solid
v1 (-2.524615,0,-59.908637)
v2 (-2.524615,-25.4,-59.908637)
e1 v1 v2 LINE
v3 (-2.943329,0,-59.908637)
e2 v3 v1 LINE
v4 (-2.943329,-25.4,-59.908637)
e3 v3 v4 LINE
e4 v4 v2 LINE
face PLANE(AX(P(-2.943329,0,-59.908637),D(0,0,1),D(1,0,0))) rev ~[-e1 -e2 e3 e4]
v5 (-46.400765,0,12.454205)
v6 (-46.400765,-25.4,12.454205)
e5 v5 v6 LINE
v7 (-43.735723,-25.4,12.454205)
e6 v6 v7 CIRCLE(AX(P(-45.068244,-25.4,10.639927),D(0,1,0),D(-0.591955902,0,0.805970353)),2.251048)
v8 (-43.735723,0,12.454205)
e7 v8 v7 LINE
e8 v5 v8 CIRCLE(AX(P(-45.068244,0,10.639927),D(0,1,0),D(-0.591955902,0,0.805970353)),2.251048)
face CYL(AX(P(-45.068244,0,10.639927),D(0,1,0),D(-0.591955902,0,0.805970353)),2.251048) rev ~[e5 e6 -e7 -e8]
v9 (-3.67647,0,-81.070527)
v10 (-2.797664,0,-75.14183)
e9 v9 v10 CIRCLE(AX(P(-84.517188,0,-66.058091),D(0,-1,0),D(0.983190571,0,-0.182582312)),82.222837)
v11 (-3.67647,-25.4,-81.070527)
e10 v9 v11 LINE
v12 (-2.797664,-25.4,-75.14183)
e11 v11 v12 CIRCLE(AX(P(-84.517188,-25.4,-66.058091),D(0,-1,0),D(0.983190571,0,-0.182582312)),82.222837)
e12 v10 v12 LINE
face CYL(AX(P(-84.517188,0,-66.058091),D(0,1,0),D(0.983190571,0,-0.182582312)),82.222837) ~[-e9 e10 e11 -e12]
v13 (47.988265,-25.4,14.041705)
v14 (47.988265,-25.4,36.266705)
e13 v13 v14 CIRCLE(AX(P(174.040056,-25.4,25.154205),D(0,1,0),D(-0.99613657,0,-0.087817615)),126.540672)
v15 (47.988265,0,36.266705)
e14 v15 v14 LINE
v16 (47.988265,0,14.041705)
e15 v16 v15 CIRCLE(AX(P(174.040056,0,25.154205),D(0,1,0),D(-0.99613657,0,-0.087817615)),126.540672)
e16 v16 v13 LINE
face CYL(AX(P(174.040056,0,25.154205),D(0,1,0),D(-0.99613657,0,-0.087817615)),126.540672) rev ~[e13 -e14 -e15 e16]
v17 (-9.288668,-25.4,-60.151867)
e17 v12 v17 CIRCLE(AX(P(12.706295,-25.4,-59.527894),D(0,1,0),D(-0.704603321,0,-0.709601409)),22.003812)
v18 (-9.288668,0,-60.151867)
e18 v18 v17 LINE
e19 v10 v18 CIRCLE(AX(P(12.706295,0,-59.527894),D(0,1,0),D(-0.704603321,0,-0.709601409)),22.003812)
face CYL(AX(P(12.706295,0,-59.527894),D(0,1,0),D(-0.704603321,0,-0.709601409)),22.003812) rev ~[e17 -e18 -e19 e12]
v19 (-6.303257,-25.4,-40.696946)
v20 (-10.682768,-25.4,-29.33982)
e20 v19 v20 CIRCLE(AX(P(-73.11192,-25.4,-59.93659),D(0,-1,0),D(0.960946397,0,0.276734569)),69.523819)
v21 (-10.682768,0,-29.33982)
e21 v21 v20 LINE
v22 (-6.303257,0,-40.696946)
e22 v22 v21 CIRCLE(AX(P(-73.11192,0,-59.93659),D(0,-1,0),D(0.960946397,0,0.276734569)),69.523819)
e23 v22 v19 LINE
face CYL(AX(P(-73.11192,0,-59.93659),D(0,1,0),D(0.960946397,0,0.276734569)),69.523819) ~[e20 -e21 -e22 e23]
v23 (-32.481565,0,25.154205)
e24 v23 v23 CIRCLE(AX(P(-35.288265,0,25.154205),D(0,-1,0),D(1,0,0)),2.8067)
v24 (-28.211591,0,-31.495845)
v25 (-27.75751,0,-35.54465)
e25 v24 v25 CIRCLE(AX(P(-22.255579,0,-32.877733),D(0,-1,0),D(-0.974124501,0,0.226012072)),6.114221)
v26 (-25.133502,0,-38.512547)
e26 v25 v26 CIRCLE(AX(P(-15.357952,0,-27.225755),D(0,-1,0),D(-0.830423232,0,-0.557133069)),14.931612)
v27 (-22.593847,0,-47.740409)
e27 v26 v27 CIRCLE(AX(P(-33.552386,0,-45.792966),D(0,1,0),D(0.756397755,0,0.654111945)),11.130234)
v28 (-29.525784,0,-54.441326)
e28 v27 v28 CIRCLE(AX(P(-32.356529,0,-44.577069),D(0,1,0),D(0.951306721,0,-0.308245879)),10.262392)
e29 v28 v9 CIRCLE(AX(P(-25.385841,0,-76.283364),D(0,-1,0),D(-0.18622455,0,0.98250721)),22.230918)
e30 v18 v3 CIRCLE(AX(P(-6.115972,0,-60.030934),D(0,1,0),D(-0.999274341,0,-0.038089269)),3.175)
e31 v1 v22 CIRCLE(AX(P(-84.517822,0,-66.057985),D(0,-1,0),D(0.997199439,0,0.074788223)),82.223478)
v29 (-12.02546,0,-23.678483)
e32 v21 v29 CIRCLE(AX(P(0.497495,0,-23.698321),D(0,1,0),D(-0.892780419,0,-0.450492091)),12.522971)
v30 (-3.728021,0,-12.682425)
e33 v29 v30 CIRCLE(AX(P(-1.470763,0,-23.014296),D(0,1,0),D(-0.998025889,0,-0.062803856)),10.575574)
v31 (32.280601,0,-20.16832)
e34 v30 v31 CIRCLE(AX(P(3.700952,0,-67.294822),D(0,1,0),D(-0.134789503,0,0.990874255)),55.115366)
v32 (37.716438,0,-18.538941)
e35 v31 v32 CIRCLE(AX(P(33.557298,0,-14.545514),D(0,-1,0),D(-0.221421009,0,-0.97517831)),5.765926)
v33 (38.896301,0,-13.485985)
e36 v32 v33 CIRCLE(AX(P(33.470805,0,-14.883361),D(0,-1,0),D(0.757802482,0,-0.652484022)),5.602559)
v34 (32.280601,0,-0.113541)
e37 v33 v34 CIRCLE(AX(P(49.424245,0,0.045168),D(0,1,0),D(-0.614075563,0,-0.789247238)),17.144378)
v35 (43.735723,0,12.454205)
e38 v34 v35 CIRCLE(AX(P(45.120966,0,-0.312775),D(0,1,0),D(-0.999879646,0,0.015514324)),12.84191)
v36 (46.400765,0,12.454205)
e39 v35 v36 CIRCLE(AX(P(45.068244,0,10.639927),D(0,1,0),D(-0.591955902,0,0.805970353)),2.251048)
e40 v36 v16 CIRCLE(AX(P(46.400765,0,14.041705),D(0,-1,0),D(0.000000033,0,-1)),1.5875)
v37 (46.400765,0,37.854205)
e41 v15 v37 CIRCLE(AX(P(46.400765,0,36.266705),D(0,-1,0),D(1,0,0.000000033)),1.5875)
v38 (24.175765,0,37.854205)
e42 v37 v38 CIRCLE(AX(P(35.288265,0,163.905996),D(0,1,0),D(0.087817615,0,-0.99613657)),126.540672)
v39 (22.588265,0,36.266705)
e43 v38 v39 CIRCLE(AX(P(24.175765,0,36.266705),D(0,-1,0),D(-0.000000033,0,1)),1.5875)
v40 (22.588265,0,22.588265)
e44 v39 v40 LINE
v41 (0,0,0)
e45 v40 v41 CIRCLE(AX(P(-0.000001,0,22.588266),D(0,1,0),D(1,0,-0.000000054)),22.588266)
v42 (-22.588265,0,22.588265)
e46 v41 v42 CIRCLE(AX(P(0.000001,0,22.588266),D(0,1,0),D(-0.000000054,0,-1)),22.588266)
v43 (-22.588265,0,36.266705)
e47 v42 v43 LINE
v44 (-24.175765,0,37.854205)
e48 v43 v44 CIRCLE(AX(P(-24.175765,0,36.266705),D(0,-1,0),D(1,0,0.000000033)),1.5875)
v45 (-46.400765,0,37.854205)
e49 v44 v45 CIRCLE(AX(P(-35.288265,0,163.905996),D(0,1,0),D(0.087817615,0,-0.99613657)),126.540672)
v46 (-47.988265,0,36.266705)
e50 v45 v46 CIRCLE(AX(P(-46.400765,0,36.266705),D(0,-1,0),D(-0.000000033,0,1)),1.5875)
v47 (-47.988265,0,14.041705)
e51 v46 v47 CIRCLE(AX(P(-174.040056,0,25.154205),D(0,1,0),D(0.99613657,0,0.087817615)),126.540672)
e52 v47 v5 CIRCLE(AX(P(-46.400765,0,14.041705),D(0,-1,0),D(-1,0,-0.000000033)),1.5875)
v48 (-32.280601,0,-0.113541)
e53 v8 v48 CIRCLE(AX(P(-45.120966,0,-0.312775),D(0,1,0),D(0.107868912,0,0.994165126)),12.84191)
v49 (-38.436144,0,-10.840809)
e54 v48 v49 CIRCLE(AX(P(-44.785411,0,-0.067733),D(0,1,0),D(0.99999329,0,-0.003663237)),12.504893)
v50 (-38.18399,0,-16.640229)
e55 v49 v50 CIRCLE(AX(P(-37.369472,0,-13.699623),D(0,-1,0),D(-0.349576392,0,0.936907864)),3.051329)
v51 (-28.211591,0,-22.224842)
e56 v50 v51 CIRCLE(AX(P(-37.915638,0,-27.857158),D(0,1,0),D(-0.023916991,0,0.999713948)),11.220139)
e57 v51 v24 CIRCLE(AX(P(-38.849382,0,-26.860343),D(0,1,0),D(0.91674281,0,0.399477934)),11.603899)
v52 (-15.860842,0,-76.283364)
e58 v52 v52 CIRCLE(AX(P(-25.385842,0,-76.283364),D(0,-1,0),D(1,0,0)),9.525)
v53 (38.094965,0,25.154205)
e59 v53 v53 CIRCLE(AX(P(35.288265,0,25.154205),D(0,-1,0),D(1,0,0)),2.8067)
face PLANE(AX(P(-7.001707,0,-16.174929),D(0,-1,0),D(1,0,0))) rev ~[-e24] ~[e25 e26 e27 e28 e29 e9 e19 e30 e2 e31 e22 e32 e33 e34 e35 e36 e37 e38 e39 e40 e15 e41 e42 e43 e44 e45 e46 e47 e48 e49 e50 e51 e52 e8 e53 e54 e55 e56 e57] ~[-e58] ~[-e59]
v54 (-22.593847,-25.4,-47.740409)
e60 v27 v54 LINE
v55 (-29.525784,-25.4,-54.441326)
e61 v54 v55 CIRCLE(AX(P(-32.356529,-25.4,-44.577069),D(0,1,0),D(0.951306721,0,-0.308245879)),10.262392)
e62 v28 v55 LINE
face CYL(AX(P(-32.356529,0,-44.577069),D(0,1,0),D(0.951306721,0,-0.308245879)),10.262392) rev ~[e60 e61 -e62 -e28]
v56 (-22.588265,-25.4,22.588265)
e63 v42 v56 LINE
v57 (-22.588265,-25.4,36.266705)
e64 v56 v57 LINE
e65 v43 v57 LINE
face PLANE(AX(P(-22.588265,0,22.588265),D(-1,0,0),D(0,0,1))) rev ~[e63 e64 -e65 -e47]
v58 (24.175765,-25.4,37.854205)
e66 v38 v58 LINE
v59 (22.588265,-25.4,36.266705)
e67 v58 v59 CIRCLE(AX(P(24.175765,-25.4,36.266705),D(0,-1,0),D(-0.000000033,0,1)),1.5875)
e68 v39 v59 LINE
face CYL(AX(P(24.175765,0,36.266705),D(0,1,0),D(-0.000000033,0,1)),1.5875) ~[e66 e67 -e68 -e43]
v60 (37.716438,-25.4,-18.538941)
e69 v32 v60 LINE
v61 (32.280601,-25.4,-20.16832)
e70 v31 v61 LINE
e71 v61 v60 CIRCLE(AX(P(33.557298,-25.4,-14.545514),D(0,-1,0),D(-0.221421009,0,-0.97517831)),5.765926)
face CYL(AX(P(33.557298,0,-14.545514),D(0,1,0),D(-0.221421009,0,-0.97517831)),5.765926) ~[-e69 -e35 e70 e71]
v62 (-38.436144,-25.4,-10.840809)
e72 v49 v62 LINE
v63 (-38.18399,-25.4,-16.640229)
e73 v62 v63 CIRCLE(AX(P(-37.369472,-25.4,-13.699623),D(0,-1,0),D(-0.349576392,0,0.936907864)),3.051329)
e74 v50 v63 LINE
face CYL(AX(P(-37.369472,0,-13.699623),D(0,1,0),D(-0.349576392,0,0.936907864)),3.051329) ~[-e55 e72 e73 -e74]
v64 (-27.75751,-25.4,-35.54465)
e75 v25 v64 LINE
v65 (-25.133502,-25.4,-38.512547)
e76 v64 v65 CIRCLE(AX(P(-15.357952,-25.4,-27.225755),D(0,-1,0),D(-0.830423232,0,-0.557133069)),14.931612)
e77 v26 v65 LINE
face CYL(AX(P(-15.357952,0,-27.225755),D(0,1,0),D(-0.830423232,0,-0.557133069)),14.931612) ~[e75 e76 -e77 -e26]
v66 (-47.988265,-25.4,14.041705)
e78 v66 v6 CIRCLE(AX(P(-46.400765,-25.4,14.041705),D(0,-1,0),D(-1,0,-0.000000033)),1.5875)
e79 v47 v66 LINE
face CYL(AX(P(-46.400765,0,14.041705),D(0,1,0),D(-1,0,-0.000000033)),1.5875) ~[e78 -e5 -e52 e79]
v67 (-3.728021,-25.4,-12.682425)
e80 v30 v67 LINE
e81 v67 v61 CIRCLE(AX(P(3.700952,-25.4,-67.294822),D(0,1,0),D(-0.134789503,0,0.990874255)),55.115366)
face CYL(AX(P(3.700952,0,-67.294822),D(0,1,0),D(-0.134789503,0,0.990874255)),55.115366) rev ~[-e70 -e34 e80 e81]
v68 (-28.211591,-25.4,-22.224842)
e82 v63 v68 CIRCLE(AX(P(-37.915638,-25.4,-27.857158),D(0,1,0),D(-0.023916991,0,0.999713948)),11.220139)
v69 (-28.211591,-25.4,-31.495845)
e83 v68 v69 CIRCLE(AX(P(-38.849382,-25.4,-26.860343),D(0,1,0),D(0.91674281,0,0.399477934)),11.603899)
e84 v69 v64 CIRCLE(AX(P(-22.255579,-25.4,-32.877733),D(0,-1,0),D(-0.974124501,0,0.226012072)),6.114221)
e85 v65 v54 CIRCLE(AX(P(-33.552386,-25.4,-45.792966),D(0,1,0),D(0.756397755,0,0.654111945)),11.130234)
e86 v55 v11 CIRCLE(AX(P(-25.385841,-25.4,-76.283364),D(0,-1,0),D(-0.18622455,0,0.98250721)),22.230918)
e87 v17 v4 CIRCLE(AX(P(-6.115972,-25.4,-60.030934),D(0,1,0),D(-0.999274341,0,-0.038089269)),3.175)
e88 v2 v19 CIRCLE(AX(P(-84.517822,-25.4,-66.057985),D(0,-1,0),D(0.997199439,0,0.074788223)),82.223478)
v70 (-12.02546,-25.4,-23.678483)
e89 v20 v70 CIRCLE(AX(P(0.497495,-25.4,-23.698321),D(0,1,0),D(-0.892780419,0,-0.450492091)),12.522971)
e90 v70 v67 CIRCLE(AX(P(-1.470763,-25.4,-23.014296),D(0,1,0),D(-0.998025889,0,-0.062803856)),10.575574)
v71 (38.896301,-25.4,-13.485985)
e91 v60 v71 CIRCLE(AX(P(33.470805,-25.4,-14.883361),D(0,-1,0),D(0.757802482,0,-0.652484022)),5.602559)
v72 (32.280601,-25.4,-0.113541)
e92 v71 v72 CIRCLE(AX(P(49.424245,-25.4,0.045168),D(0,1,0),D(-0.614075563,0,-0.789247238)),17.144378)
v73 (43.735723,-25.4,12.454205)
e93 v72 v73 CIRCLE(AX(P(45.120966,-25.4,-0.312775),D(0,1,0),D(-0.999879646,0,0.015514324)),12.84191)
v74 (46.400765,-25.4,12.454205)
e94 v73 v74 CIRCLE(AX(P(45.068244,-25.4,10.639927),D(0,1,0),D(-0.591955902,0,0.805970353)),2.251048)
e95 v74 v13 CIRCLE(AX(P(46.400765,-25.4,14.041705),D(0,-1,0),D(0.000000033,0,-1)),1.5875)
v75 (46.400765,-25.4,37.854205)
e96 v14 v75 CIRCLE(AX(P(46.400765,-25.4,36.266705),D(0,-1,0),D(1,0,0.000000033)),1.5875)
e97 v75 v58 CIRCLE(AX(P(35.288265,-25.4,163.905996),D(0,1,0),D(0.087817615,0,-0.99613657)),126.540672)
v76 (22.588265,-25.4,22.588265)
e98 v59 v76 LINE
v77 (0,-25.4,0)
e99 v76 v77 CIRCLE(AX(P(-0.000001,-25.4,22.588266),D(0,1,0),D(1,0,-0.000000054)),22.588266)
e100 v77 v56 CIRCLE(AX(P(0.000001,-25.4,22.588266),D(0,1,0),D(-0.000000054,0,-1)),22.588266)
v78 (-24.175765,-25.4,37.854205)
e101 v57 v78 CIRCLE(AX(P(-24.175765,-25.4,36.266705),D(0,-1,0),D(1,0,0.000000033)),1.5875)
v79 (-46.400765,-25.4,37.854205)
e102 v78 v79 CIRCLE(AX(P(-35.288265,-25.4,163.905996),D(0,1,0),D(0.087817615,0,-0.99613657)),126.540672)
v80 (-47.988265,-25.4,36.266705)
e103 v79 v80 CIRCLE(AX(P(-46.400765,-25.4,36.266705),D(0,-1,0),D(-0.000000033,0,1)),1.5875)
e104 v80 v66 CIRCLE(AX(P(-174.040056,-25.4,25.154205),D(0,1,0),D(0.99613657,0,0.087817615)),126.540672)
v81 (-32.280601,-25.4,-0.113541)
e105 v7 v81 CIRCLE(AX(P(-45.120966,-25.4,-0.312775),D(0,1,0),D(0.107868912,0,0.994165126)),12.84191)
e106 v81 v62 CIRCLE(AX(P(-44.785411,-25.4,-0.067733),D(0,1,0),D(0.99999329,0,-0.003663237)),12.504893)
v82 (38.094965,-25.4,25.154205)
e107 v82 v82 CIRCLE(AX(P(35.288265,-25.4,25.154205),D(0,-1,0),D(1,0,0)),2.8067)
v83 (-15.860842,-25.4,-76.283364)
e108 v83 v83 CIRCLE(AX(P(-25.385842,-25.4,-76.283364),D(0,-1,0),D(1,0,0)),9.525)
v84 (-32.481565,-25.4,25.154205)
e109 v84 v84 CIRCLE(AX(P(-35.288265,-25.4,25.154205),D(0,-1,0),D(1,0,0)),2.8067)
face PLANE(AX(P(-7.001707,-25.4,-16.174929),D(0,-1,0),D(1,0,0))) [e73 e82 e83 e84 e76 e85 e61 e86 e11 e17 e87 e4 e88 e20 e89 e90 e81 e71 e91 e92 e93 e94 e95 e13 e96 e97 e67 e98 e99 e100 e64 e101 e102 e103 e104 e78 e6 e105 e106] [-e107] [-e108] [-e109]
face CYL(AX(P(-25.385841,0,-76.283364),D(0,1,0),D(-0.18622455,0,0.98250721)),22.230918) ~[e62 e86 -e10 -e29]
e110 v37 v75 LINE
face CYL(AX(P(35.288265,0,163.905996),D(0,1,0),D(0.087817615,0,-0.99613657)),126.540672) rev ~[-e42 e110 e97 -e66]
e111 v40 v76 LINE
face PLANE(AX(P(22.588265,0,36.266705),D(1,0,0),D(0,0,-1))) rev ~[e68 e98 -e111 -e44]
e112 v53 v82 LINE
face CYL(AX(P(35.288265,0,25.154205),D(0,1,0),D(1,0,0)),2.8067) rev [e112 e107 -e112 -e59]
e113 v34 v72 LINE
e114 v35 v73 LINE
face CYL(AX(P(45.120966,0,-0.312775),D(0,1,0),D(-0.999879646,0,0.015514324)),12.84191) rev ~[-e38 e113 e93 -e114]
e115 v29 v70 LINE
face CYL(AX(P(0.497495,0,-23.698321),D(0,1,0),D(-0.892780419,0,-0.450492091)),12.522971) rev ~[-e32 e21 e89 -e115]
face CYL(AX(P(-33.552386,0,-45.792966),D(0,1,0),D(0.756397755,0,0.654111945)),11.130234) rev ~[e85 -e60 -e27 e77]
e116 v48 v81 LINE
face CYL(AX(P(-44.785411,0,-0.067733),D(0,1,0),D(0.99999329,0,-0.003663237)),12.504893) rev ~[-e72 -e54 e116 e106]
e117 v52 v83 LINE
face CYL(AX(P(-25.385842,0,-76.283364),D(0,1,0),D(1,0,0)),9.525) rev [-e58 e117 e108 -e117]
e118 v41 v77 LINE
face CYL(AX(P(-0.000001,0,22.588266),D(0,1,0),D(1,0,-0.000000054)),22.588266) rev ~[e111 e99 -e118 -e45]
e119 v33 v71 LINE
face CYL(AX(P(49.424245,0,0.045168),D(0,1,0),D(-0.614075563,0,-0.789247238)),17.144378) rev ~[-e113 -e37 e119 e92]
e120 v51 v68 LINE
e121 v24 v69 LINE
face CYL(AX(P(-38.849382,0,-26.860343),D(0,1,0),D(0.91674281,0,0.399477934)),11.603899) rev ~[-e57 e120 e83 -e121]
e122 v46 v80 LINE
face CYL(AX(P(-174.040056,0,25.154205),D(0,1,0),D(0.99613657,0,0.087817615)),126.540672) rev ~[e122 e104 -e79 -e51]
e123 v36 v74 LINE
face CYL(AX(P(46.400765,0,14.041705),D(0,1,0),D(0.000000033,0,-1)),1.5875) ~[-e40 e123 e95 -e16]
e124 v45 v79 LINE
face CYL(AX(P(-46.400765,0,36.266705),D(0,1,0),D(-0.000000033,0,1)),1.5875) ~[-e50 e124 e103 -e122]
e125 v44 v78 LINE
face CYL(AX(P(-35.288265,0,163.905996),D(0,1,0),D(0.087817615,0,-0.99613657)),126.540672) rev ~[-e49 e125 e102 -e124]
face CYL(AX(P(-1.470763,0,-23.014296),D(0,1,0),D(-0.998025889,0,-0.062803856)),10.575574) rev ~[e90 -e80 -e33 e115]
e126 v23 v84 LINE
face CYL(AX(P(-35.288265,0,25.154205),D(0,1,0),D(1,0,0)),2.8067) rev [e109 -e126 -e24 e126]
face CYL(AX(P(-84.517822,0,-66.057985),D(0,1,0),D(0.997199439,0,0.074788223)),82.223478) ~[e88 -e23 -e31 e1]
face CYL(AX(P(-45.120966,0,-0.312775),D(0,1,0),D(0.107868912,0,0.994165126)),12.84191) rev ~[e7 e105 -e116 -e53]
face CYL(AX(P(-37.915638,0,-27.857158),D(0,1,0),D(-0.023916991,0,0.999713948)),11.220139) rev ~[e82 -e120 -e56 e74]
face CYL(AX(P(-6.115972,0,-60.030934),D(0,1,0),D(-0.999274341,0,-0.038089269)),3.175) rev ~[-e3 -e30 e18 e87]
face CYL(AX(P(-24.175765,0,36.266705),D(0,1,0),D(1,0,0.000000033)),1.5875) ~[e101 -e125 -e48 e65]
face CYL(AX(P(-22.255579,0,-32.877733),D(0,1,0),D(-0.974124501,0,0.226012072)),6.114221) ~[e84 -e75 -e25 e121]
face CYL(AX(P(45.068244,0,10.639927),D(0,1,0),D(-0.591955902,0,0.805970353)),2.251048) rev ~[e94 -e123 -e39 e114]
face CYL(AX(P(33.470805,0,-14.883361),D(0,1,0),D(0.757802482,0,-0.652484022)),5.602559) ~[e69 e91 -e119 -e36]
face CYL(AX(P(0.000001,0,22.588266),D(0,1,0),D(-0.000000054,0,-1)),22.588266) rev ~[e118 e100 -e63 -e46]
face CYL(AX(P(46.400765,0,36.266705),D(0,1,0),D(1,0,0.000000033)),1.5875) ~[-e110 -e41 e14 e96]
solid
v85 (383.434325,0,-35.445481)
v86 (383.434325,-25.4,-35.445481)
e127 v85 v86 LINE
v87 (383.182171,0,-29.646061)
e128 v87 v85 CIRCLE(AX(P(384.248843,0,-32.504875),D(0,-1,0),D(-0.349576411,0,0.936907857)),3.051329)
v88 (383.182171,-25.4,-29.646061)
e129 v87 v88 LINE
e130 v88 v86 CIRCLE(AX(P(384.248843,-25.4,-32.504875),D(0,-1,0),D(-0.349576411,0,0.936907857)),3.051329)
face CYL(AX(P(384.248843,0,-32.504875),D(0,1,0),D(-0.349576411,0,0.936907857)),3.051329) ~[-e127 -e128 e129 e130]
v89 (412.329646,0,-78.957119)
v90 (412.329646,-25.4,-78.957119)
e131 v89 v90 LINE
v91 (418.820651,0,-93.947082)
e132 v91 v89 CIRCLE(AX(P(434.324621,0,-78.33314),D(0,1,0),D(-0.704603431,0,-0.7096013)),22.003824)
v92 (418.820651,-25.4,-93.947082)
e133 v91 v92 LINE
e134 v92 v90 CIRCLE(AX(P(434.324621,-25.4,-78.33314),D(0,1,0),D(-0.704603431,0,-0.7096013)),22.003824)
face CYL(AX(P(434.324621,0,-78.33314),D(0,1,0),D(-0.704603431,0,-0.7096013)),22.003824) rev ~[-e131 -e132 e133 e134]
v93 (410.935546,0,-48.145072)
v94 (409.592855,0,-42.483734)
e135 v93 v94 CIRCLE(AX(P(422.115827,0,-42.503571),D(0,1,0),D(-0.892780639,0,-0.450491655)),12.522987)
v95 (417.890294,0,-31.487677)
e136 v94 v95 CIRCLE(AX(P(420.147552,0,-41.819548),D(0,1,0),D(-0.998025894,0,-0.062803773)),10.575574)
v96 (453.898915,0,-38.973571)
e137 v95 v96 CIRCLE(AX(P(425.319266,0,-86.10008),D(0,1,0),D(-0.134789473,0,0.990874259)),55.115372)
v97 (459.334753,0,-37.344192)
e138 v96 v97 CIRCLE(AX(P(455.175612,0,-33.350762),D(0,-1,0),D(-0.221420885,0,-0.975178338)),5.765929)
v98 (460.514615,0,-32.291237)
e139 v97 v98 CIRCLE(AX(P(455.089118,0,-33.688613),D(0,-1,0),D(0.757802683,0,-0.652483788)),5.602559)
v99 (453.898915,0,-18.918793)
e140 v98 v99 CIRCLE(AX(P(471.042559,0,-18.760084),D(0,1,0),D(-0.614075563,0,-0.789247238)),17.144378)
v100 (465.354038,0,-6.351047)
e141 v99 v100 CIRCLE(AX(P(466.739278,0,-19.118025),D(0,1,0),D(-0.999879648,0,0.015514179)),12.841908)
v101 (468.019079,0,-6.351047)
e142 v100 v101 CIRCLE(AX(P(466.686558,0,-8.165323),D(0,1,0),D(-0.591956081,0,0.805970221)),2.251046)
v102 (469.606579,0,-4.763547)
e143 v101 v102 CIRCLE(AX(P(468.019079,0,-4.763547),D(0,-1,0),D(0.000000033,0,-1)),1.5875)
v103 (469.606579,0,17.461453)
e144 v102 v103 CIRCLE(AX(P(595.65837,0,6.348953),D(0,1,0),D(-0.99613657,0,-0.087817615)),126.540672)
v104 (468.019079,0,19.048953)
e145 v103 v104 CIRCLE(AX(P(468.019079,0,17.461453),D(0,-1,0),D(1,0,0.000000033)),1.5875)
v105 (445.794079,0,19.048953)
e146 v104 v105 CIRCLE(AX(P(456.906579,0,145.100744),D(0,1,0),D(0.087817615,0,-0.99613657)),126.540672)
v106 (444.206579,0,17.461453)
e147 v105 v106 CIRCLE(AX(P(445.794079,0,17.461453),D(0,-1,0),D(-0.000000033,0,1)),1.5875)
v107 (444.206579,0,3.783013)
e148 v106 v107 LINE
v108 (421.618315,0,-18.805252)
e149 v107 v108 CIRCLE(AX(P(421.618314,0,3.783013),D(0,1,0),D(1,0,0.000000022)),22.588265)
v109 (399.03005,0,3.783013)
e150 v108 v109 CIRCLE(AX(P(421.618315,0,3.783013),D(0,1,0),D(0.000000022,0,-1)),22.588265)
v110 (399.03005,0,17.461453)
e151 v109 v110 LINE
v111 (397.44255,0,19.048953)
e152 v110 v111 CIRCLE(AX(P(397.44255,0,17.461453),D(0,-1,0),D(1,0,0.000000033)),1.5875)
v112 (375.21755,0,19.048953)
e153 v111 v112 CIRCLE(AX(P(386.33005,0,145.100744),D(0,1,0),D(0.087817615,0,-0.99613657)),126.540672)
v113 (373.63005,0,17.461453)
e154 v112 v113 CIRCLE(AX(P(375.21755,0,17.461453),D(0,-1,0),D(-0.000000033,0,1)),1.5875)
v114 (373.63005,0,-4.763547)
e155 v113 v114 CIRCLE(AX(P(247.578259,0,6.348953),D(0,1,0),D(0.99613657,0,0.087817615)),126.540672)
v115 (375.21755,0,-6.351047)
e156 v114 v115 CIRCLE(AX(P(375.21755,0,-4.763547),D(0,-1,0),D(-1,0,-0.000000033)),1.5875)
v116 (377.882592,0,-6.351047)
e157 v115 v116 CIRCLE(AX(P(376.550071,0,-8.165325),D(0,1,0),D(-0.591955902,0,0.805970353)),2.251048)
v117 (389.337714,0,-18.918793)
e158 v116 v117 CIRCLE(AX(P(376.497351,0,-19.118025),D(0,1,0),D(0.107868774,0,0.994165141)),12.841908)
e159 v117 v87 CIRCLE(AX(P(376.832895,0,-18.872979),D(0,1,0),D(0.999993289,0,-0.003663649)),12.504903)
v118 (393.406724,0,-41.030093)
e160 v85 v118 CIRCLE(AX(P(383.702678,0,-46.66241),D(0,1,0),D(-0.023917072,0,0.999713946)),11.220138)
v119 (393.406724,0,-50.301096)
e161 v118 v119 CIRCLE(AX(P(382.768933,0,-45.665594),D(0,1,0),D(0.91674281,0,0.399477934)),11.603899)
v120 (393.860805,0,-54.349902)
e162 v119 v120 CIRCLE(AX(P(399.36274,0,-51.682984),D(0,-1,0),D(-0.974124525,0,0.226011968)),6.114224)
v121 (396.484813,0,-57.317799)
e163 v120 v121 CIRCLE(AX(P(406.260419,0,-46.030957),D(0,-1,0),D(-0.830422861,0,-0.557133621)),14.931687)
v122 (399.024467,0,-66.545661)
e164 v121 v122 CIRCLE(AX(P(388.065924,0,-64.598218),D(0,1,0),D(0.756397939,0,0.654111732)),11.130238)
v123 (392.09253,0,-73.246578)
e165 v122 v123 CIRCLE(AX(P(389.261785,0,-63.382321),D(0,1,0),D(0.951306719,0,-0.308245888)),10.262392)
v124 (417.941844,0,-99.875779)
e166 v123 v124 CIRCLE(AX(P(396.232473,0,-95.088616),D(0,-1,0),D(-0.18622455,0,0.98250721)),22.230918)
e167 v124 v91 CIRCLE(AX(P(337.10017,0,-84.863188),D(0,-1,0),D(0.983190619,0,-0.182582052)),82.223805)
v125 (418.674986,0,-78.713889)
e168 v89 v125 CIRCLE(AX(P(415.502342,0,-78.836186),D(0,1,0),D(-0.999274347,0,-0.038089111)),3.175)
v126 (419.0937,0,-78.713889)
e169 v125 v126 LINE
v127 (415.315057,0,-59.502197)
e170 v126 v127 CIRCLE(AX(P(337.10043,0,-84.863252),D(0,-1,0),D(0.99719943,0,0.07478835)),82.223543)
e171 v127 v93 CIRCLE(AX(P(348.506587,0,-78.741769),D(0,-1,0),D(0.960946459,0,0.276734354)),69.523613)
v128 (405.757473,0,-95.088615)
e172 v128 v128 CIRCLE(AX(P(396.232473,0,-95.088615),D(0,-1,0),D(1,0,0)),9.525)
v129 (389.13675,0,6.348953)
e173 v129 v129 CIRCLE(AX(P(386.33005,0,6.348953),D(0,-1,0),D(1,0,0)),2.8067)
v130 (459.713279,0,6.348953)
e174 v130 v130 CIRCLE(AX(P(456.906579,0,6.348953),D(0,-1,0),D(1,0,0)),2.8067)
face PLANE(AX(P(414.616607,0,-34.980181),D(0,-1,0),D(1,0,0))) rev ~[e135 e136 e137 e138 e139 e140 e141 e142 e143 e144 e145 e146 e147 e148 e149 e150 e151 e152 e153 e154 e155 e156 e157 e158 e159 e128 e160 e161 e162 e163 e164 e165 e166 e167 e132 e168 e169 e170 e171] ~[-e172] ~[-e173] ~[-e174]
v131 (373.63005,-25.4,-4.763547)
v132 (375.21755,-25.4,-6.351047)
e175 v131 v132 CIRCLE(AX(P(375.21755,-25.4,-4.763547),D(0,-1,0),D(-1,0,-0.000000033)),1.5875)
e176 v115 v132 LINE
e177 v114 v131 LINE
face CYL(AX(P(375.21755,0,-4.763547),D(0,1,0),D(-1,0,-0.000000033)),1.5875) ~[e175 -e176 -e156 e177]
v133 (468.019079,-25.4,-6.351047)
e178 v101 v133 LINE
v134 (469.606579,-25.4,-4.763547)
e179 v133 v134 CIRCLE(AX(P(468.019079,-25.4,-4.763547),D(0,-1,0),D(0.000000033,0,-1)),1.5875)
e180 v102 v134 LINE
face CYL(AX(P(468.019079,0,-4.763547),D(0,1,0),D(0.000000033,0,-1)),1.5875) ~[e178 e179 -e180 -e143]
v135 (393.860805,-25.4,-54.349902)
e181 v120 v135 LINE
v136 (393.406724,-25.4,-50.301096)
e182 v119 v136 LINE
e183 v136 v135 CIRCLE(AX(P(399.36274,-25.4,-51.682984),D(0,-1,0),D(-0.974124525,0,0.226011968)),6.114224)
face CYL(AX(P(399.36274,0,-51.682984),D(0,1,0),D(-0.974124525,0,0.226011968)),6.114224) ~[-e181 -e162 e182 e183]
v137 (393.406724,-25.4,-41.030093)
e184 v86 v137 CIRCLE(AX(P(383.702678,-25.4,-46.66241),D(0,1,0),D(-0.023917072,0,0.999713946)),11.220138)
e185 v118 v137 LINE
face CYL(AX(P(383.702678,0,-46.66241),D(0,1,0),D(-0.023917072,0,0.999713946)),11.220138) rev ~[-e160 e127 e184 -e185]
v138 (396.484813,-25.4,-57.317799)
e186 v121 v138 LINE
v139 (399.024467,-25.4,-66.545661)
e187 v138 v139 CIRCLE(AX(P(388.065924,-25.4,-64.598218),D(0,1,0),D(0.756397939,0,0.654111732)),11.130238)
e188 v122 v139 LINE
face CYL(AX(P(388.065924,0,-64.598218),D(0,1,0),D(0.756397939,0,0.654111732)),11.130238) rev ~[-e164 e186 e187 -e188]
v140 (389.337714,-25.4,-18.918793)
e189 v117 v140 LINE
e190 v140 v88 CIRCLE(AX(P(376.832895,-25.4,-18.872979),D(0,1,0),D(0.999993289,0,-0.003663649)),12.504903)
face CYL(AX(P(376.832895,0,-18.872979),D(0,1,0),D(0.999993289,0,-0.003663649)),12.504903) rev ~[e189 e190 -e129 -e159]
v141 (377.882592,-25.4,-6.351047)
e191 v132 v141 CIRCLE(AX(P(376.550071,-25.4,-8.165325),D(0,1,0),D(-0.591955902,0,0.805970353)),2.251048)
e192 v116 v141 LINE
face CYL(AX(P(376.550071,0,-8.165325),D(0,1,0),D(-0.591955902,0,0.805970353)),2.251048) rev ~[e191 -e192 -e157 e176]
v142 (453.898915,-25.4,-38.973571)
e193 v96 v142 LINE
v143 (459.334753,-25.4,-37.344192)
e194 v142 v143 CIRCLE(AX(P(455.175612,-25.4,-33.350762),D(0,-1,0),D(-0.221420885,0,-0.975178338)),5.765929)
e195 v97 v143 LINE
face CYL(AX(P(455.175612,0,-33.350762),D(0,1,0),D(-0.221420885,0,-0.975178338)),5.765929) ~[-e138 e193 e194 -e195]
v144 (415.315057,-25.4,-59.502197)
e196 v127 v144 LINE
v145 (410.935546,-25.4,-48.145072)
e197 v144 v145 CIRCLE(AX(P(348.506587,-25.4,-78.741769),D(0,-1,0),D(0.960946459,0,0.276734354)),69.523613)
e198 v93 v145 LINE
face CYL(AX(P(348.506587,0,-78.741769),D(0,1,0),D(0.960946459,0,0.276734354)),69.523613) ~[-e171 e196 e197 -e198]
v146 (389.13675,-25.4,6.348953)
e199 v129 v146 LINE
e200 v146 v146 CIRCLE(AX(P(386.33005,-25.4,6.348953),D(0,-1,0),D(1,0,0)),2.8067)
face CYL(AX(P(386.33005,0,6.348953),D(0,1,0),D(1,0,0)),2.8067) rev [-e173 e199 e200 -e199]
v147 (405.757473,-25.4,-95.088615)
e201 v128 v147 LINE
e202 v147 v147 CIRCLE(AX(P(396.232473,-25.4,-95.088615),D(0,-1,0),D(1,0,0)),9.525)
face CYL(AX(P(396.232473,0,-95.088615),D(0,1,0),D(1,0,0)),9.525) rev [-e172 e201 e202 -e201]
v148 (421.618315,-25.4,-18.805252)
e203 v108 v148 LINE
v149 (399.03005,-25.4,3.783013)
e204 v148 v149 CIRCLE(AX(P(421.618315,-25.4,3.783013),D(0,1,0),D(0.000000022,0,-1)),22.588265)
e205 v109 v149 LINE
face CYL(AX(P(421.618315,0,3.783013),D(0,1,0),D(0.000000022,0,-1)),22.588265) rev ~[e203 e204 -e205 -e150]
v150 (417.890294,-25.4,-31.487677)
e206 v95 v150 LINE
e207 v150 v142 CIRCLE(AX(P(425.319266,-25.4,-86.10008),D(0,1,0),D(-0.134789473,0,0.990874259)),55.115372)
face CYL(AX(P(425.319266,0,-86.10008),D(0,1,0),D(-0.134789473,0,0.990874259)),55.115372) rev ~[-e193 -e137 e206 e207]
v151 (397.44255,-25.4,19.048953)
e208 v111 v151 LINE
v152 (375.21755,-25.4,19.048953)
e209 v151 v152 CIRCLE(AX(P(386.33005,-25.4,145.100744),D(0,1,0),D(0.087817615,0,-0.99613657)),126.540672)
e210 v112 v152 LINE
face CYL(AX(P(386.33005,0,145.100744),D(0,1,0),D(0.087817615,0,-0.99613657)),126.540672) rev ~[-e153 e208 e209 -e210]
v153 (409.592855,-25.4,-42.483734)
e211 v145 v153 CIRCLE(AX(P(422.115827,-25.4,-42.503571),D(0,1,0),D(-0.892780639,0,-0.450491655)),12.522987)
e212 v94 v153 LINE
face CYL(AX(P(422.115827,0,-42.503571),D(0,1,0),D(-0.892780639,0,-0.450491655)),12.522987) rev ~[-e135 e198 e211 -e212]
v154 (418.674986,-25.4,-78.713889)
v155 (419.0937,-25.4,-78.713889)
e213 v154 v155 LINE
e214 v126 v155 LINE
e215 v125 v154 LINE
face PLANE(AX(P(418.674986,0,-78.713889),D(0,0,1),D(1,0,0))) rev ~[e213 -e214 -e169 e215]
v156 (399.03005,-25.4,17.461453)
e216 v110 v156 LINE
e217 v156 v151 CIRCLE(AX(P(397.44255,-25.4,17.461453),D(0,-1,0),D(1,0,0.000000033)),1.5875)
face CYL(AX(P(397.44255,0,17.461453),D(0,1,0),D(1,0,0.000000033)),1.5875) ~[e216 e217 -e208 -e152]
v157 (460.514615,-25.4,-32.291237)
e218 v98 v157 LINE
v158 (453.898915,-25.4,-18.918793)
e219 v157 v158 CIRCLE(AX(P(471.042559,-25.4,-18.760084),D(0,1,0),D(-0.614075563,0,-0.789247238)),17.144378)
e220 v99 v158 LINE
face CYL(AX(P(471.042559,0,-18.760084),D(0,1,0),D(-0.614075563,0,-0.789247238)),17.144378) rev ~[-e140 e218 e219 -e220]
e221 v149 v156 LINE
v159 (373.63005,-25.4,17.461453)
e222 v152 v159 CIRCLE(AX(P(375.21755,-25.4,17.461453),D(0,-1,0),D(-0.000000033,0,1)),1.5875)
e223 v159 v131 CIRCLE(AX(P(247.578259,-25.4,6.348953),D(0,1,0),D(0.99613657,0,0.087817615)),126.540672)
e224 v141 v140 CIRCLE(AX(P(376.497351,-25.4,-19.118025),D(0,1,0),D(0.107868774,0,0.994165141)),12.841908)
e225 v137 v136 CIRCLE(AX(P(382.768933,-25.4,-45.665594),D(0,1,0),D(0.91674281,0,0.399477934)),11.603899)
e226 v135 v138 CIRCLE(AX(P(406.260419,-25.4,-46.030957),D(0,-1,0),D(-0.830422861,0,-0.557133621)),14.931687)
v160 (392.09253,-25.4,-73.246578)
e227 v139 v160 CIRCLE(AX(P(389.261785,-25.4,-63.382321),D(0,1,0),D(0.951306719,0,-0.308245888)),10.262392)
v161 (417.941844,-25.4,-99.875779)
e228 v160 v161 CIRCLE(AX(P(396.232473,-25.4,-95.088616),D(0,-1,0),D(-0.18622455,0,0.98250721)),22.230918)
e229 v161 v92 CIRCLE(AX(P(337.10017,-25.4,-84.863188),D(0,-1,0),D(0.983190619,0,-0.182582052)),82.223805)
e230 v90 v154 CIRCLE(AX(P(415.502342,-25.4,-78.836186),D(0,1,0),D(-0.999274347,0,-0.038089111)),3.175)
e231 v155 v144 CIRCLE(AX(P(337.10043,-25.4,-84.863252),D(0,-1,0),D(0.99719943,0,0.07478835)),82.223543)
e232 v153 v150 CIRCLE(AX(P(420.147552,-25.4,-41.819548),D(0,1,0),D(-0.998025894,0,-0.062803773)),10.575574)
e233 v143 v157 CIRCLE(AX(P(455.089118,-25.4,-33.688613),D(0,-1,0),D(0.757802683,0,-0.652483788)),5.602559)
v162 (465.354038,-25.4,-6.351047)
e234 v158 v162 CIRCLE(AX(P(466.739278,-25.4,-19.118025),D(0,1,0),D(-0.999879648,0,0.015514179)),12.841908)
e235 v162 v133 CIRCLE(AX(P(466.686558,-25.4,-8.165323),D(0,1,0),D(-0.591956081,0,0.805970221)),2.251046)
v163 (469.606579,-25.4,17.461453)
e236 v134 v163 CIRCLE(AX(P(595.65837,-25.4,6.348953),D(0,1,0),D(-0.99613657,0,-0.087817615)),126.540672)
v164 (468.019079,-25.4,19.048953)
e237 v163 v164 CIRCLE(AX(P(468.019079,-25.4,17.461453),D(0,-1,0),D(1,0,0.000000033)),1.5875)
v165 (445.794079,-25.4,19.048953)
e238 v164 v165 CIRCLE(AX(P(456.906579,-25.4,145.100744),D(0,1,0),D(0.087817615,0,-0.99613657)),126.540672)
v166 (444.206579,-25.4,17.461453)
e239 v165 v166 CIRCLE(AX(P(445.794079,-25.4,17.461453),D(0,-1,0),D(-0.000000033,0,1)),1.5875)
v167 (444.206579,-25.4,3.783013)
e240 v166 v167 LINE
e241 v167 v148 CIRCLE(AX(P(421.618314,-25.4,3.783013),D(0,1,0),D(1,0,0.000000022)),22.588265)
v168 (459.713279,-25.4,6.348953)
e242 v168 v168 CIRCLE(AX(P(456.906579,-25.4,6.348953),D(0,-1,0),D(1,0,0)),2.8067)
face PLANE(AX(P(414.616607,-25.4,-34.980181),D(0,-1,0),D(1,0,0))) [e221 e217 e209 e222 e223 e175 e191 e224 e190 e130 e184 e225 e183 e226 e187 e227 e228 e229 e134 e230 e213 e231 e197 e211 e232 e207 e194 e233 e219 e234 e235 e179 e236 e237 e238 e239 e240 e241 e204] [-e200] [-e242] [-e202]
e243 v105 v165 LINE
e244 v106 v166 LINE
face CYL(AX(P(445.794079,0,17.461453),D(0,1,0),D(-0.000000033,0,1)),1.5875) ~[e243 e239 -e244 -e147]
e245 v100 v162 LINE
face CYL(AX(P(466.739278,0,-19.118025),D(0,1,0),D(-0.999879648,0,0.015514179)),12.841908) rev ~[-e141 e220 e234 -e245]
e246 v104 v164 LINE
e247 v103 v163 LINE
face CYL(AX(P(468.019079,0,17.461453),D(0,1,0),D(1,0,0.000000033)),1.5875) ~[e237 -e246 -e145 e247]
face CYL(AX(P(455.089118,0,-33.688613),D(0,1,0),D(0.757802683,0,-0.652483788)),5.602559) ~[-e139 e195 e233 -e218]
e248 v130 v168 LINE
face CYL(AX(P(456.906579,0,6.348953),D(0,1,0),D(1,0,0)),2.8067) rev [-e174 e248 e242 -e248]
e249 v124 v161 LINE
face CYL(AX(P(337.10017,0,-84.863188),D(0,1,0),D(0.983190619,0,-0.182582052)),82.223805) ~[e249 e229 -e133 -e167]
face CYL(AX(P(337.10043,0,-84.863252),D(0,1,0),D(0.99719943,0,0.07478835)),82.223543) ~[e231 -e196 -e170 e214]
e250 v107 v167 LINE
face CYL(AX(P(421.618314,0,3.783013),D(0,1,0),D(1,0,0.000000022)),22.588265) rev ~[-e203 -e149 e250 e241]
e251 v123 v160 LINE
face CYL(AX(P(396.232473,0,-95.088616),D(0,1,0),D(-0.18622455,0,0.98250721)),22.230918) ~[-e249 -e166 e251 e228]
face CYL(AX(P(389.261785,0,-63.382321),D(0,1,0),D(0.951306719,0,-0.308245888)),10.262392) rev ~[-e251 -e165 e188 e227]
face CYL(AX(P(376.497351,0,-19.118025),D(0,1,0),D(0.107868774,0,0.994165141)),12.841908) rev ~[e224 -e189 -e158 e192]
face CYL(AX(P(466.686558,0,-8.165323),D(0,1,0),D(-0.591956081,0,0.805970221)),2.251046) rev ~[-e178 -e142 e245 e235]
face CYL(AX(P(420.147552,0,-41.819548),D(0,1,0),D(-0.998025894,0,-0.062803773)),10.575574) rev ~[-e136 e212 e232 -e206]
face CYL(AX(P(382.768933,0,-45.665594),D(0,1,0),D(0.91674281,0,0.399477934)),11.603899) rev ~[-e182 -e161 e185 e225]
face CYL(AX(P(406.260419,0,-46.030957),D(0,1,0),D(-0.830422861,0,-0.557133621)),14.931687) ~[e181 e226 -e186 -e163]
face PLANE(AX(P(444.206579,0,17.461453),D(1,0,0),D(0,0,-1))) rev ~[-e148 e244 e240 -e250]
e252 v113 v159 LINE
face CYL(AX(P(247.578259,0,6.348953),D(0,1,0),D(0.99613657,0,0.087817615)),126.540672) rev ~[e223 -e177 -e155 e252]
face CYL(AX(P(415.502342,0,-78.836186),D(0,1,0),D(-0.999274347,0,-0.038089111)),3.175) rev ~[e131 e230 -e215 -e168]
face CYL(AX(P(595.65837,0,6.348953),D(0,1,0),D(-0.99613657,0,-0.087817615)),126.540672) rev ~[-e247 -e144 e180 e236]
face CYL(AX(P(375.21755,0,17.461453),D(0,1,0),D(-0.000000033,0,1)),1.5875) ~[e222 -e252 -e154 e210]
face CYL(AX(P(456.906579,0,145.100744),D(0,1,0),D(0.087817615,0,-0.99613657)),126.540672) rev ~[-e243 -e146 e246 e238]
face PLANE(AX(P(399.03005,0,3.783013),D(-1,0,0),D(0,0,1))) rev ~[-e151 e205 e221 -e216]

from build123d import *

# Parameters (mm, degrees)
F0_R     = 9.525
F0_R_2   = 2.8067
F1_DEPTH = 25.4


with BuildPart() as f1:
    # F0 (on Front) → F1 (new body)
    with BuildSketch(Plane.XZ):
        with BuildLine():
            Line((-22.588265, 22.588265), (-22.588265, 36.266705))
            ThreePointArc((-22.588265, 36.266705), (-23.053233, 37.389237), (-24.175765, 37.854205))
            ThreePointArc((-24.175765, 37.854205), (-35.288265, 37.365324), (-46.400765, 37.854205))
            ThreePointArc((-46.400765, 37.854205), (-47.523297, 37.389237), (-47.988265, 36.266705))
            ThreePointArc((-47.988265, 36.266705), (-47.499384, 25.154205), (-47.988265, 14.041705))
            ThreePointArc((-47.988265, 14.041705), (-47.523297, 12.919173), (-46.400765, 12.454205))
            ThreePointArc((-46.400765, 12.454205), (-45.068244, 12.890975), (-43.735723, 12.454205))
            ThreePointArc((-43.735723, 12.454205), (-35.629968, 8.337984), (-32.280601, -0.113541))
            ThreePointArc((-32.280601, -0.113541), (-33.939323, -6.291457), (-38.436144, -10.840809))
            ThreePointArc((-38.436144, -10.840809), (-40.41792, -13.832167), (-38.18399, -16.640229))
            ThreePointArc((-38.18399, -16.640229), (-32.433388, -18.067549), (-28.211591, -22.224842))
            ThreePointArc((-28.211591, -22.224842), (-27.245483, -26.860343), (-28.211591, -31.495845))
            ThreePointArc((-28.211591, -31.495845), (-28.331706, -33.559182), (-27.75751, -35.54465))
            ThreePointArc((-27.75751, -35.54465), (-26.54437, -37.116008), (-25.133502, -38.512547))
            ThreePointArc((-25.133502, -38.512547), (-22.821147, -42.839558), (-22.593847, -47.740409))
            ThreePointArc((-22.593847, -47.740409), (-25.223916, -51.955586), (-29.525784, -54.441326))
            ThreePointArc((-29.525784, -54.441326), (-41.337324, -91.767676), (-3.67647, -81.070527))
            ThreePointArc((-3.67647, -81.070527), (-3.183029, -78.114189), (-2.797664, -75.14183))
            ThreePointArc((-2.797664, -75.14183), (-7.485709, -68.271504), (-9.288668, -60.151867))
            ThreePointArc((-9.288668, -60.151867), (-6.237587, -56.858264), (-2.943329, -59.908637))
            Line((-2.943329, -59.908637), (-2.524615, -59.908637))
            ThreePointArc((-2.524615, -59.908637), (-3.840038, -50.189915), (-6.303257, -40.696946))
            ThreePointArc((-6.303257, -40.696946), (-8.243983, -34.922352), (-10.682768, -29.33982))
            ThreePointArc((-10.682768, -29.33982), (-11.687468, -26.588212), (-12.02546, -23.678483))
            ThreePointArc((-12.02546, -23.678483), (-9.912615, -16.644217), (-3.728021, -12.682425))
            ThreePointArc((-3.728021, -12.682425), (14.919126, -13.333205), (32.280601, -20.16832))
            ThreePointArc((32.280601, -20.16832), (35.212846, -20.068653), (37.716438, -18.538941))
            ThreePointArc((37.716438, -18.538941), (38.926607, -16.157288), (38.896301, -13.485985))
            ThreePointArc((38.896301, -13.485985), (34.057568, -7.557131), (32.280601, -0.113541))
            ThreePointArc((32.280601, -0.113541), (35.629968, 8.337984), (43.735723, 12.454205))
            ThreePointArc((43.735723, 12.454205), (45.068244, 12.890975), (46.400765, 12.454205))
            ThreePointArc((46.400765, 12.454205), (47.523297, 12.919173), (47.988265, 14.041705))
            ThreePointArc((47.988265, 14.041705), (47.499384, 25.154205), (47.988265, 36.266705))
            ThreePointArc((47.988265, 36.266705), (47.523297, 37.389237), (46.400765, 37.854205))
            ThreePointArc((46.400765, 37.854205), (35.288265, 37.365324), (24.175765, 37.854205))
            ThreePointArc((24.175765, 37.854205), (23.053233, 37.389237), (22.588265, 36.266705))
            Line((22.588265, 36.266705), (22.588265, 22.588265))
            ThreePointArc((22.588265, 22.588265), (15.972315, 6.61595), (0, 0))
            ThreePointArc((0, 0), (-15.972315, 6.61595), (-22.588265, 22.588265))
        make_face()
        with Locations((-25.385842, -76.283364)):
            Circle(F0_R, mode=Mode.SUBTRACT)
        with Locations((-35.288265, 25.154205)):
            Circle(F0_R_2, mode=Mode.SUBTRACT)
        with Locations((35.288265, 25.154205)):
            Circle(F0_R_2, mode=Mode.SUBTRACT)
        with BuildLine():
            Line((399.03005, 3.783013), (399.03005, 17.461453))
            ThreePointArc((399.03005, 17.461453), (398.565082, 18.583985), (397.44255, 19.048953))
            ThreePointArc((397.44255, 19.048953), (386.33005, 18.560072), (375.21755, 19.048953))
            ThreePointArc((375.21755, 19.048953), (374.095018, 18.583985), (373.63005, 17.461453))
            ThreePointArc((373.63005, 17.461453), (374.118931, 6.348953), (373.63005, -4.763547))
            ThreePointArc((373.63005, -4.763547), (374.095018, -5.886079), (375.21755, -6.351047))
            ThreePointArc((375.21755, -6.351047), (376.550071, -5.914277), (377.882592, -6.351047))
            ThreePointArc((377.882592, -6.351047), (385.988347, -10.467267), (389.337714, -18.918793))
            ThreePointArc((389.337714, -18.918793), (387.678991, -25.096708), (383.182171, -29.646061))
            ThreePointArc((383.182171, -29.646061), (381.200395, -32.637418), (383.434325, -35.445481))
            ThreePointArc((383.434325, -35.445481), (389.184926, -36.8728), (393.406724, -41.030093))
            ThreePointArc((393.406724, -41.030093), (394.372832, -45.665595), (393.406724, -50.301096))
            ThreePointArc((393.406724, -50.301096), (393.286609, -52.364433), (393.860805, -54.349902))
            ThreePointArc((393.860805, -54.349902), (395.073945, -55.921259), (396.484813, -57.317799))
            ThreePointArc((396.484813, -57.317799), (398.797167, -61.64481), (399.024467, -66.545661))
            ThreePointArc((399.024467, -66.545661), (396.394399, -70.760837), (392.09253, -73.246578))
            ThreePointArc((392.09253, -73.246578), (380.28099, -110.572928), (417.941844, -99.875779))
            ThreePointArc((417.941844, -99.875779), (418.435285, -96.91944), (418.820651, -93.947082))
            ThreePointArc((418.820651, -93.947082), (414.132606, -87.076755), (412.329646, -78.957119))
            ThreePointArc((412.329646, -78.957119), (415.380727, -75.663516), (418.674986, -78.713889))
            Line((418.674986, -78.713889), (419.0937, -78.713889))
            ThreePointArc((419.0937, -78.713889), (417.778276, -68.995166), (415.315057, -59.502197))
            ThreePointArc((415.315057, -59.502197), (413.374332, -53.727604), (410.935546, -48.145072))
            ThreePointArc((410.935546, -48.145072), (409.930847, -45.393464), (409.592855, -42.483734))
            ThreePointArc((409.592855, -42.483734), (411.7057, -35.449469), (417.890294, -31.487677))
            ThreePointArc((417.890294, -31.487677), (436.53744, -32.138457), (453.898915, -38.973571))
            ThreePointArc((453.898915, -38.973571), (456.83116, -38.873904), (459.334753, -37.344192))
            ThreePointArc((459.334753, -37.344192), (460.544921, -34.96254), (460.514615, -32.291237))
            ThreePointArc((460.514615, -32.291237), (455.675882, -26.362383), (453.898915, -18.918793))
            ThreePointArc((453.898915, -18.918793), (457.248282, -10.467267), (465.354038, -6.351047))
            ThreePointArc((465.354038, -6.351047), (466.686558, -5.914277), (468.019079, -6.351047))
            ThreePointArc((468.019079, -6.351047), (469.141611, -5.886079), (469.606579, -4.763547))
            ThreePointArc((469.606579, -4.763547), (469.117698, 6.348953), (469.606579, 17.461453))
            ThreePointArc((469.606579, 17.461453), (469.141611, 18.583985), (468.019079, 19.048953))
            ThreePointArc((468.019079, 19.048953), (456.906579, 18.560072), (445.794079, 19.048953))
            ThreePointArc((445.794079, 19.048953), (444.671547, 18.583985), (444.206579, 17.461453))
            Line((444.206579, 17.461453), (444.206579, 3.783013))
            ThreePointArc((444.206579, 3.783013), (437.59063, -12.189302), (421.618315, -18.805252))
            ThreePointArc((421.618315, -18.805252), (405.645999, -12.189302), (399.03005, 3.783013))
        make_face()
        with Locations((396.232473, -95.088615)):
            Circle(F0_R, mode=Mode.SUBTRACT)
        with Locations((386.33005, 6.348953)):
            Circle(F0_R_2, mode=Mode.SUBTRACT)
        with Locations((456.906579, 6.348953)):
            Circle(F0_R_2, mode=Mode.SUBTRACT)
    extrude(amount=F1_DEPTH)


solid = f1.part
